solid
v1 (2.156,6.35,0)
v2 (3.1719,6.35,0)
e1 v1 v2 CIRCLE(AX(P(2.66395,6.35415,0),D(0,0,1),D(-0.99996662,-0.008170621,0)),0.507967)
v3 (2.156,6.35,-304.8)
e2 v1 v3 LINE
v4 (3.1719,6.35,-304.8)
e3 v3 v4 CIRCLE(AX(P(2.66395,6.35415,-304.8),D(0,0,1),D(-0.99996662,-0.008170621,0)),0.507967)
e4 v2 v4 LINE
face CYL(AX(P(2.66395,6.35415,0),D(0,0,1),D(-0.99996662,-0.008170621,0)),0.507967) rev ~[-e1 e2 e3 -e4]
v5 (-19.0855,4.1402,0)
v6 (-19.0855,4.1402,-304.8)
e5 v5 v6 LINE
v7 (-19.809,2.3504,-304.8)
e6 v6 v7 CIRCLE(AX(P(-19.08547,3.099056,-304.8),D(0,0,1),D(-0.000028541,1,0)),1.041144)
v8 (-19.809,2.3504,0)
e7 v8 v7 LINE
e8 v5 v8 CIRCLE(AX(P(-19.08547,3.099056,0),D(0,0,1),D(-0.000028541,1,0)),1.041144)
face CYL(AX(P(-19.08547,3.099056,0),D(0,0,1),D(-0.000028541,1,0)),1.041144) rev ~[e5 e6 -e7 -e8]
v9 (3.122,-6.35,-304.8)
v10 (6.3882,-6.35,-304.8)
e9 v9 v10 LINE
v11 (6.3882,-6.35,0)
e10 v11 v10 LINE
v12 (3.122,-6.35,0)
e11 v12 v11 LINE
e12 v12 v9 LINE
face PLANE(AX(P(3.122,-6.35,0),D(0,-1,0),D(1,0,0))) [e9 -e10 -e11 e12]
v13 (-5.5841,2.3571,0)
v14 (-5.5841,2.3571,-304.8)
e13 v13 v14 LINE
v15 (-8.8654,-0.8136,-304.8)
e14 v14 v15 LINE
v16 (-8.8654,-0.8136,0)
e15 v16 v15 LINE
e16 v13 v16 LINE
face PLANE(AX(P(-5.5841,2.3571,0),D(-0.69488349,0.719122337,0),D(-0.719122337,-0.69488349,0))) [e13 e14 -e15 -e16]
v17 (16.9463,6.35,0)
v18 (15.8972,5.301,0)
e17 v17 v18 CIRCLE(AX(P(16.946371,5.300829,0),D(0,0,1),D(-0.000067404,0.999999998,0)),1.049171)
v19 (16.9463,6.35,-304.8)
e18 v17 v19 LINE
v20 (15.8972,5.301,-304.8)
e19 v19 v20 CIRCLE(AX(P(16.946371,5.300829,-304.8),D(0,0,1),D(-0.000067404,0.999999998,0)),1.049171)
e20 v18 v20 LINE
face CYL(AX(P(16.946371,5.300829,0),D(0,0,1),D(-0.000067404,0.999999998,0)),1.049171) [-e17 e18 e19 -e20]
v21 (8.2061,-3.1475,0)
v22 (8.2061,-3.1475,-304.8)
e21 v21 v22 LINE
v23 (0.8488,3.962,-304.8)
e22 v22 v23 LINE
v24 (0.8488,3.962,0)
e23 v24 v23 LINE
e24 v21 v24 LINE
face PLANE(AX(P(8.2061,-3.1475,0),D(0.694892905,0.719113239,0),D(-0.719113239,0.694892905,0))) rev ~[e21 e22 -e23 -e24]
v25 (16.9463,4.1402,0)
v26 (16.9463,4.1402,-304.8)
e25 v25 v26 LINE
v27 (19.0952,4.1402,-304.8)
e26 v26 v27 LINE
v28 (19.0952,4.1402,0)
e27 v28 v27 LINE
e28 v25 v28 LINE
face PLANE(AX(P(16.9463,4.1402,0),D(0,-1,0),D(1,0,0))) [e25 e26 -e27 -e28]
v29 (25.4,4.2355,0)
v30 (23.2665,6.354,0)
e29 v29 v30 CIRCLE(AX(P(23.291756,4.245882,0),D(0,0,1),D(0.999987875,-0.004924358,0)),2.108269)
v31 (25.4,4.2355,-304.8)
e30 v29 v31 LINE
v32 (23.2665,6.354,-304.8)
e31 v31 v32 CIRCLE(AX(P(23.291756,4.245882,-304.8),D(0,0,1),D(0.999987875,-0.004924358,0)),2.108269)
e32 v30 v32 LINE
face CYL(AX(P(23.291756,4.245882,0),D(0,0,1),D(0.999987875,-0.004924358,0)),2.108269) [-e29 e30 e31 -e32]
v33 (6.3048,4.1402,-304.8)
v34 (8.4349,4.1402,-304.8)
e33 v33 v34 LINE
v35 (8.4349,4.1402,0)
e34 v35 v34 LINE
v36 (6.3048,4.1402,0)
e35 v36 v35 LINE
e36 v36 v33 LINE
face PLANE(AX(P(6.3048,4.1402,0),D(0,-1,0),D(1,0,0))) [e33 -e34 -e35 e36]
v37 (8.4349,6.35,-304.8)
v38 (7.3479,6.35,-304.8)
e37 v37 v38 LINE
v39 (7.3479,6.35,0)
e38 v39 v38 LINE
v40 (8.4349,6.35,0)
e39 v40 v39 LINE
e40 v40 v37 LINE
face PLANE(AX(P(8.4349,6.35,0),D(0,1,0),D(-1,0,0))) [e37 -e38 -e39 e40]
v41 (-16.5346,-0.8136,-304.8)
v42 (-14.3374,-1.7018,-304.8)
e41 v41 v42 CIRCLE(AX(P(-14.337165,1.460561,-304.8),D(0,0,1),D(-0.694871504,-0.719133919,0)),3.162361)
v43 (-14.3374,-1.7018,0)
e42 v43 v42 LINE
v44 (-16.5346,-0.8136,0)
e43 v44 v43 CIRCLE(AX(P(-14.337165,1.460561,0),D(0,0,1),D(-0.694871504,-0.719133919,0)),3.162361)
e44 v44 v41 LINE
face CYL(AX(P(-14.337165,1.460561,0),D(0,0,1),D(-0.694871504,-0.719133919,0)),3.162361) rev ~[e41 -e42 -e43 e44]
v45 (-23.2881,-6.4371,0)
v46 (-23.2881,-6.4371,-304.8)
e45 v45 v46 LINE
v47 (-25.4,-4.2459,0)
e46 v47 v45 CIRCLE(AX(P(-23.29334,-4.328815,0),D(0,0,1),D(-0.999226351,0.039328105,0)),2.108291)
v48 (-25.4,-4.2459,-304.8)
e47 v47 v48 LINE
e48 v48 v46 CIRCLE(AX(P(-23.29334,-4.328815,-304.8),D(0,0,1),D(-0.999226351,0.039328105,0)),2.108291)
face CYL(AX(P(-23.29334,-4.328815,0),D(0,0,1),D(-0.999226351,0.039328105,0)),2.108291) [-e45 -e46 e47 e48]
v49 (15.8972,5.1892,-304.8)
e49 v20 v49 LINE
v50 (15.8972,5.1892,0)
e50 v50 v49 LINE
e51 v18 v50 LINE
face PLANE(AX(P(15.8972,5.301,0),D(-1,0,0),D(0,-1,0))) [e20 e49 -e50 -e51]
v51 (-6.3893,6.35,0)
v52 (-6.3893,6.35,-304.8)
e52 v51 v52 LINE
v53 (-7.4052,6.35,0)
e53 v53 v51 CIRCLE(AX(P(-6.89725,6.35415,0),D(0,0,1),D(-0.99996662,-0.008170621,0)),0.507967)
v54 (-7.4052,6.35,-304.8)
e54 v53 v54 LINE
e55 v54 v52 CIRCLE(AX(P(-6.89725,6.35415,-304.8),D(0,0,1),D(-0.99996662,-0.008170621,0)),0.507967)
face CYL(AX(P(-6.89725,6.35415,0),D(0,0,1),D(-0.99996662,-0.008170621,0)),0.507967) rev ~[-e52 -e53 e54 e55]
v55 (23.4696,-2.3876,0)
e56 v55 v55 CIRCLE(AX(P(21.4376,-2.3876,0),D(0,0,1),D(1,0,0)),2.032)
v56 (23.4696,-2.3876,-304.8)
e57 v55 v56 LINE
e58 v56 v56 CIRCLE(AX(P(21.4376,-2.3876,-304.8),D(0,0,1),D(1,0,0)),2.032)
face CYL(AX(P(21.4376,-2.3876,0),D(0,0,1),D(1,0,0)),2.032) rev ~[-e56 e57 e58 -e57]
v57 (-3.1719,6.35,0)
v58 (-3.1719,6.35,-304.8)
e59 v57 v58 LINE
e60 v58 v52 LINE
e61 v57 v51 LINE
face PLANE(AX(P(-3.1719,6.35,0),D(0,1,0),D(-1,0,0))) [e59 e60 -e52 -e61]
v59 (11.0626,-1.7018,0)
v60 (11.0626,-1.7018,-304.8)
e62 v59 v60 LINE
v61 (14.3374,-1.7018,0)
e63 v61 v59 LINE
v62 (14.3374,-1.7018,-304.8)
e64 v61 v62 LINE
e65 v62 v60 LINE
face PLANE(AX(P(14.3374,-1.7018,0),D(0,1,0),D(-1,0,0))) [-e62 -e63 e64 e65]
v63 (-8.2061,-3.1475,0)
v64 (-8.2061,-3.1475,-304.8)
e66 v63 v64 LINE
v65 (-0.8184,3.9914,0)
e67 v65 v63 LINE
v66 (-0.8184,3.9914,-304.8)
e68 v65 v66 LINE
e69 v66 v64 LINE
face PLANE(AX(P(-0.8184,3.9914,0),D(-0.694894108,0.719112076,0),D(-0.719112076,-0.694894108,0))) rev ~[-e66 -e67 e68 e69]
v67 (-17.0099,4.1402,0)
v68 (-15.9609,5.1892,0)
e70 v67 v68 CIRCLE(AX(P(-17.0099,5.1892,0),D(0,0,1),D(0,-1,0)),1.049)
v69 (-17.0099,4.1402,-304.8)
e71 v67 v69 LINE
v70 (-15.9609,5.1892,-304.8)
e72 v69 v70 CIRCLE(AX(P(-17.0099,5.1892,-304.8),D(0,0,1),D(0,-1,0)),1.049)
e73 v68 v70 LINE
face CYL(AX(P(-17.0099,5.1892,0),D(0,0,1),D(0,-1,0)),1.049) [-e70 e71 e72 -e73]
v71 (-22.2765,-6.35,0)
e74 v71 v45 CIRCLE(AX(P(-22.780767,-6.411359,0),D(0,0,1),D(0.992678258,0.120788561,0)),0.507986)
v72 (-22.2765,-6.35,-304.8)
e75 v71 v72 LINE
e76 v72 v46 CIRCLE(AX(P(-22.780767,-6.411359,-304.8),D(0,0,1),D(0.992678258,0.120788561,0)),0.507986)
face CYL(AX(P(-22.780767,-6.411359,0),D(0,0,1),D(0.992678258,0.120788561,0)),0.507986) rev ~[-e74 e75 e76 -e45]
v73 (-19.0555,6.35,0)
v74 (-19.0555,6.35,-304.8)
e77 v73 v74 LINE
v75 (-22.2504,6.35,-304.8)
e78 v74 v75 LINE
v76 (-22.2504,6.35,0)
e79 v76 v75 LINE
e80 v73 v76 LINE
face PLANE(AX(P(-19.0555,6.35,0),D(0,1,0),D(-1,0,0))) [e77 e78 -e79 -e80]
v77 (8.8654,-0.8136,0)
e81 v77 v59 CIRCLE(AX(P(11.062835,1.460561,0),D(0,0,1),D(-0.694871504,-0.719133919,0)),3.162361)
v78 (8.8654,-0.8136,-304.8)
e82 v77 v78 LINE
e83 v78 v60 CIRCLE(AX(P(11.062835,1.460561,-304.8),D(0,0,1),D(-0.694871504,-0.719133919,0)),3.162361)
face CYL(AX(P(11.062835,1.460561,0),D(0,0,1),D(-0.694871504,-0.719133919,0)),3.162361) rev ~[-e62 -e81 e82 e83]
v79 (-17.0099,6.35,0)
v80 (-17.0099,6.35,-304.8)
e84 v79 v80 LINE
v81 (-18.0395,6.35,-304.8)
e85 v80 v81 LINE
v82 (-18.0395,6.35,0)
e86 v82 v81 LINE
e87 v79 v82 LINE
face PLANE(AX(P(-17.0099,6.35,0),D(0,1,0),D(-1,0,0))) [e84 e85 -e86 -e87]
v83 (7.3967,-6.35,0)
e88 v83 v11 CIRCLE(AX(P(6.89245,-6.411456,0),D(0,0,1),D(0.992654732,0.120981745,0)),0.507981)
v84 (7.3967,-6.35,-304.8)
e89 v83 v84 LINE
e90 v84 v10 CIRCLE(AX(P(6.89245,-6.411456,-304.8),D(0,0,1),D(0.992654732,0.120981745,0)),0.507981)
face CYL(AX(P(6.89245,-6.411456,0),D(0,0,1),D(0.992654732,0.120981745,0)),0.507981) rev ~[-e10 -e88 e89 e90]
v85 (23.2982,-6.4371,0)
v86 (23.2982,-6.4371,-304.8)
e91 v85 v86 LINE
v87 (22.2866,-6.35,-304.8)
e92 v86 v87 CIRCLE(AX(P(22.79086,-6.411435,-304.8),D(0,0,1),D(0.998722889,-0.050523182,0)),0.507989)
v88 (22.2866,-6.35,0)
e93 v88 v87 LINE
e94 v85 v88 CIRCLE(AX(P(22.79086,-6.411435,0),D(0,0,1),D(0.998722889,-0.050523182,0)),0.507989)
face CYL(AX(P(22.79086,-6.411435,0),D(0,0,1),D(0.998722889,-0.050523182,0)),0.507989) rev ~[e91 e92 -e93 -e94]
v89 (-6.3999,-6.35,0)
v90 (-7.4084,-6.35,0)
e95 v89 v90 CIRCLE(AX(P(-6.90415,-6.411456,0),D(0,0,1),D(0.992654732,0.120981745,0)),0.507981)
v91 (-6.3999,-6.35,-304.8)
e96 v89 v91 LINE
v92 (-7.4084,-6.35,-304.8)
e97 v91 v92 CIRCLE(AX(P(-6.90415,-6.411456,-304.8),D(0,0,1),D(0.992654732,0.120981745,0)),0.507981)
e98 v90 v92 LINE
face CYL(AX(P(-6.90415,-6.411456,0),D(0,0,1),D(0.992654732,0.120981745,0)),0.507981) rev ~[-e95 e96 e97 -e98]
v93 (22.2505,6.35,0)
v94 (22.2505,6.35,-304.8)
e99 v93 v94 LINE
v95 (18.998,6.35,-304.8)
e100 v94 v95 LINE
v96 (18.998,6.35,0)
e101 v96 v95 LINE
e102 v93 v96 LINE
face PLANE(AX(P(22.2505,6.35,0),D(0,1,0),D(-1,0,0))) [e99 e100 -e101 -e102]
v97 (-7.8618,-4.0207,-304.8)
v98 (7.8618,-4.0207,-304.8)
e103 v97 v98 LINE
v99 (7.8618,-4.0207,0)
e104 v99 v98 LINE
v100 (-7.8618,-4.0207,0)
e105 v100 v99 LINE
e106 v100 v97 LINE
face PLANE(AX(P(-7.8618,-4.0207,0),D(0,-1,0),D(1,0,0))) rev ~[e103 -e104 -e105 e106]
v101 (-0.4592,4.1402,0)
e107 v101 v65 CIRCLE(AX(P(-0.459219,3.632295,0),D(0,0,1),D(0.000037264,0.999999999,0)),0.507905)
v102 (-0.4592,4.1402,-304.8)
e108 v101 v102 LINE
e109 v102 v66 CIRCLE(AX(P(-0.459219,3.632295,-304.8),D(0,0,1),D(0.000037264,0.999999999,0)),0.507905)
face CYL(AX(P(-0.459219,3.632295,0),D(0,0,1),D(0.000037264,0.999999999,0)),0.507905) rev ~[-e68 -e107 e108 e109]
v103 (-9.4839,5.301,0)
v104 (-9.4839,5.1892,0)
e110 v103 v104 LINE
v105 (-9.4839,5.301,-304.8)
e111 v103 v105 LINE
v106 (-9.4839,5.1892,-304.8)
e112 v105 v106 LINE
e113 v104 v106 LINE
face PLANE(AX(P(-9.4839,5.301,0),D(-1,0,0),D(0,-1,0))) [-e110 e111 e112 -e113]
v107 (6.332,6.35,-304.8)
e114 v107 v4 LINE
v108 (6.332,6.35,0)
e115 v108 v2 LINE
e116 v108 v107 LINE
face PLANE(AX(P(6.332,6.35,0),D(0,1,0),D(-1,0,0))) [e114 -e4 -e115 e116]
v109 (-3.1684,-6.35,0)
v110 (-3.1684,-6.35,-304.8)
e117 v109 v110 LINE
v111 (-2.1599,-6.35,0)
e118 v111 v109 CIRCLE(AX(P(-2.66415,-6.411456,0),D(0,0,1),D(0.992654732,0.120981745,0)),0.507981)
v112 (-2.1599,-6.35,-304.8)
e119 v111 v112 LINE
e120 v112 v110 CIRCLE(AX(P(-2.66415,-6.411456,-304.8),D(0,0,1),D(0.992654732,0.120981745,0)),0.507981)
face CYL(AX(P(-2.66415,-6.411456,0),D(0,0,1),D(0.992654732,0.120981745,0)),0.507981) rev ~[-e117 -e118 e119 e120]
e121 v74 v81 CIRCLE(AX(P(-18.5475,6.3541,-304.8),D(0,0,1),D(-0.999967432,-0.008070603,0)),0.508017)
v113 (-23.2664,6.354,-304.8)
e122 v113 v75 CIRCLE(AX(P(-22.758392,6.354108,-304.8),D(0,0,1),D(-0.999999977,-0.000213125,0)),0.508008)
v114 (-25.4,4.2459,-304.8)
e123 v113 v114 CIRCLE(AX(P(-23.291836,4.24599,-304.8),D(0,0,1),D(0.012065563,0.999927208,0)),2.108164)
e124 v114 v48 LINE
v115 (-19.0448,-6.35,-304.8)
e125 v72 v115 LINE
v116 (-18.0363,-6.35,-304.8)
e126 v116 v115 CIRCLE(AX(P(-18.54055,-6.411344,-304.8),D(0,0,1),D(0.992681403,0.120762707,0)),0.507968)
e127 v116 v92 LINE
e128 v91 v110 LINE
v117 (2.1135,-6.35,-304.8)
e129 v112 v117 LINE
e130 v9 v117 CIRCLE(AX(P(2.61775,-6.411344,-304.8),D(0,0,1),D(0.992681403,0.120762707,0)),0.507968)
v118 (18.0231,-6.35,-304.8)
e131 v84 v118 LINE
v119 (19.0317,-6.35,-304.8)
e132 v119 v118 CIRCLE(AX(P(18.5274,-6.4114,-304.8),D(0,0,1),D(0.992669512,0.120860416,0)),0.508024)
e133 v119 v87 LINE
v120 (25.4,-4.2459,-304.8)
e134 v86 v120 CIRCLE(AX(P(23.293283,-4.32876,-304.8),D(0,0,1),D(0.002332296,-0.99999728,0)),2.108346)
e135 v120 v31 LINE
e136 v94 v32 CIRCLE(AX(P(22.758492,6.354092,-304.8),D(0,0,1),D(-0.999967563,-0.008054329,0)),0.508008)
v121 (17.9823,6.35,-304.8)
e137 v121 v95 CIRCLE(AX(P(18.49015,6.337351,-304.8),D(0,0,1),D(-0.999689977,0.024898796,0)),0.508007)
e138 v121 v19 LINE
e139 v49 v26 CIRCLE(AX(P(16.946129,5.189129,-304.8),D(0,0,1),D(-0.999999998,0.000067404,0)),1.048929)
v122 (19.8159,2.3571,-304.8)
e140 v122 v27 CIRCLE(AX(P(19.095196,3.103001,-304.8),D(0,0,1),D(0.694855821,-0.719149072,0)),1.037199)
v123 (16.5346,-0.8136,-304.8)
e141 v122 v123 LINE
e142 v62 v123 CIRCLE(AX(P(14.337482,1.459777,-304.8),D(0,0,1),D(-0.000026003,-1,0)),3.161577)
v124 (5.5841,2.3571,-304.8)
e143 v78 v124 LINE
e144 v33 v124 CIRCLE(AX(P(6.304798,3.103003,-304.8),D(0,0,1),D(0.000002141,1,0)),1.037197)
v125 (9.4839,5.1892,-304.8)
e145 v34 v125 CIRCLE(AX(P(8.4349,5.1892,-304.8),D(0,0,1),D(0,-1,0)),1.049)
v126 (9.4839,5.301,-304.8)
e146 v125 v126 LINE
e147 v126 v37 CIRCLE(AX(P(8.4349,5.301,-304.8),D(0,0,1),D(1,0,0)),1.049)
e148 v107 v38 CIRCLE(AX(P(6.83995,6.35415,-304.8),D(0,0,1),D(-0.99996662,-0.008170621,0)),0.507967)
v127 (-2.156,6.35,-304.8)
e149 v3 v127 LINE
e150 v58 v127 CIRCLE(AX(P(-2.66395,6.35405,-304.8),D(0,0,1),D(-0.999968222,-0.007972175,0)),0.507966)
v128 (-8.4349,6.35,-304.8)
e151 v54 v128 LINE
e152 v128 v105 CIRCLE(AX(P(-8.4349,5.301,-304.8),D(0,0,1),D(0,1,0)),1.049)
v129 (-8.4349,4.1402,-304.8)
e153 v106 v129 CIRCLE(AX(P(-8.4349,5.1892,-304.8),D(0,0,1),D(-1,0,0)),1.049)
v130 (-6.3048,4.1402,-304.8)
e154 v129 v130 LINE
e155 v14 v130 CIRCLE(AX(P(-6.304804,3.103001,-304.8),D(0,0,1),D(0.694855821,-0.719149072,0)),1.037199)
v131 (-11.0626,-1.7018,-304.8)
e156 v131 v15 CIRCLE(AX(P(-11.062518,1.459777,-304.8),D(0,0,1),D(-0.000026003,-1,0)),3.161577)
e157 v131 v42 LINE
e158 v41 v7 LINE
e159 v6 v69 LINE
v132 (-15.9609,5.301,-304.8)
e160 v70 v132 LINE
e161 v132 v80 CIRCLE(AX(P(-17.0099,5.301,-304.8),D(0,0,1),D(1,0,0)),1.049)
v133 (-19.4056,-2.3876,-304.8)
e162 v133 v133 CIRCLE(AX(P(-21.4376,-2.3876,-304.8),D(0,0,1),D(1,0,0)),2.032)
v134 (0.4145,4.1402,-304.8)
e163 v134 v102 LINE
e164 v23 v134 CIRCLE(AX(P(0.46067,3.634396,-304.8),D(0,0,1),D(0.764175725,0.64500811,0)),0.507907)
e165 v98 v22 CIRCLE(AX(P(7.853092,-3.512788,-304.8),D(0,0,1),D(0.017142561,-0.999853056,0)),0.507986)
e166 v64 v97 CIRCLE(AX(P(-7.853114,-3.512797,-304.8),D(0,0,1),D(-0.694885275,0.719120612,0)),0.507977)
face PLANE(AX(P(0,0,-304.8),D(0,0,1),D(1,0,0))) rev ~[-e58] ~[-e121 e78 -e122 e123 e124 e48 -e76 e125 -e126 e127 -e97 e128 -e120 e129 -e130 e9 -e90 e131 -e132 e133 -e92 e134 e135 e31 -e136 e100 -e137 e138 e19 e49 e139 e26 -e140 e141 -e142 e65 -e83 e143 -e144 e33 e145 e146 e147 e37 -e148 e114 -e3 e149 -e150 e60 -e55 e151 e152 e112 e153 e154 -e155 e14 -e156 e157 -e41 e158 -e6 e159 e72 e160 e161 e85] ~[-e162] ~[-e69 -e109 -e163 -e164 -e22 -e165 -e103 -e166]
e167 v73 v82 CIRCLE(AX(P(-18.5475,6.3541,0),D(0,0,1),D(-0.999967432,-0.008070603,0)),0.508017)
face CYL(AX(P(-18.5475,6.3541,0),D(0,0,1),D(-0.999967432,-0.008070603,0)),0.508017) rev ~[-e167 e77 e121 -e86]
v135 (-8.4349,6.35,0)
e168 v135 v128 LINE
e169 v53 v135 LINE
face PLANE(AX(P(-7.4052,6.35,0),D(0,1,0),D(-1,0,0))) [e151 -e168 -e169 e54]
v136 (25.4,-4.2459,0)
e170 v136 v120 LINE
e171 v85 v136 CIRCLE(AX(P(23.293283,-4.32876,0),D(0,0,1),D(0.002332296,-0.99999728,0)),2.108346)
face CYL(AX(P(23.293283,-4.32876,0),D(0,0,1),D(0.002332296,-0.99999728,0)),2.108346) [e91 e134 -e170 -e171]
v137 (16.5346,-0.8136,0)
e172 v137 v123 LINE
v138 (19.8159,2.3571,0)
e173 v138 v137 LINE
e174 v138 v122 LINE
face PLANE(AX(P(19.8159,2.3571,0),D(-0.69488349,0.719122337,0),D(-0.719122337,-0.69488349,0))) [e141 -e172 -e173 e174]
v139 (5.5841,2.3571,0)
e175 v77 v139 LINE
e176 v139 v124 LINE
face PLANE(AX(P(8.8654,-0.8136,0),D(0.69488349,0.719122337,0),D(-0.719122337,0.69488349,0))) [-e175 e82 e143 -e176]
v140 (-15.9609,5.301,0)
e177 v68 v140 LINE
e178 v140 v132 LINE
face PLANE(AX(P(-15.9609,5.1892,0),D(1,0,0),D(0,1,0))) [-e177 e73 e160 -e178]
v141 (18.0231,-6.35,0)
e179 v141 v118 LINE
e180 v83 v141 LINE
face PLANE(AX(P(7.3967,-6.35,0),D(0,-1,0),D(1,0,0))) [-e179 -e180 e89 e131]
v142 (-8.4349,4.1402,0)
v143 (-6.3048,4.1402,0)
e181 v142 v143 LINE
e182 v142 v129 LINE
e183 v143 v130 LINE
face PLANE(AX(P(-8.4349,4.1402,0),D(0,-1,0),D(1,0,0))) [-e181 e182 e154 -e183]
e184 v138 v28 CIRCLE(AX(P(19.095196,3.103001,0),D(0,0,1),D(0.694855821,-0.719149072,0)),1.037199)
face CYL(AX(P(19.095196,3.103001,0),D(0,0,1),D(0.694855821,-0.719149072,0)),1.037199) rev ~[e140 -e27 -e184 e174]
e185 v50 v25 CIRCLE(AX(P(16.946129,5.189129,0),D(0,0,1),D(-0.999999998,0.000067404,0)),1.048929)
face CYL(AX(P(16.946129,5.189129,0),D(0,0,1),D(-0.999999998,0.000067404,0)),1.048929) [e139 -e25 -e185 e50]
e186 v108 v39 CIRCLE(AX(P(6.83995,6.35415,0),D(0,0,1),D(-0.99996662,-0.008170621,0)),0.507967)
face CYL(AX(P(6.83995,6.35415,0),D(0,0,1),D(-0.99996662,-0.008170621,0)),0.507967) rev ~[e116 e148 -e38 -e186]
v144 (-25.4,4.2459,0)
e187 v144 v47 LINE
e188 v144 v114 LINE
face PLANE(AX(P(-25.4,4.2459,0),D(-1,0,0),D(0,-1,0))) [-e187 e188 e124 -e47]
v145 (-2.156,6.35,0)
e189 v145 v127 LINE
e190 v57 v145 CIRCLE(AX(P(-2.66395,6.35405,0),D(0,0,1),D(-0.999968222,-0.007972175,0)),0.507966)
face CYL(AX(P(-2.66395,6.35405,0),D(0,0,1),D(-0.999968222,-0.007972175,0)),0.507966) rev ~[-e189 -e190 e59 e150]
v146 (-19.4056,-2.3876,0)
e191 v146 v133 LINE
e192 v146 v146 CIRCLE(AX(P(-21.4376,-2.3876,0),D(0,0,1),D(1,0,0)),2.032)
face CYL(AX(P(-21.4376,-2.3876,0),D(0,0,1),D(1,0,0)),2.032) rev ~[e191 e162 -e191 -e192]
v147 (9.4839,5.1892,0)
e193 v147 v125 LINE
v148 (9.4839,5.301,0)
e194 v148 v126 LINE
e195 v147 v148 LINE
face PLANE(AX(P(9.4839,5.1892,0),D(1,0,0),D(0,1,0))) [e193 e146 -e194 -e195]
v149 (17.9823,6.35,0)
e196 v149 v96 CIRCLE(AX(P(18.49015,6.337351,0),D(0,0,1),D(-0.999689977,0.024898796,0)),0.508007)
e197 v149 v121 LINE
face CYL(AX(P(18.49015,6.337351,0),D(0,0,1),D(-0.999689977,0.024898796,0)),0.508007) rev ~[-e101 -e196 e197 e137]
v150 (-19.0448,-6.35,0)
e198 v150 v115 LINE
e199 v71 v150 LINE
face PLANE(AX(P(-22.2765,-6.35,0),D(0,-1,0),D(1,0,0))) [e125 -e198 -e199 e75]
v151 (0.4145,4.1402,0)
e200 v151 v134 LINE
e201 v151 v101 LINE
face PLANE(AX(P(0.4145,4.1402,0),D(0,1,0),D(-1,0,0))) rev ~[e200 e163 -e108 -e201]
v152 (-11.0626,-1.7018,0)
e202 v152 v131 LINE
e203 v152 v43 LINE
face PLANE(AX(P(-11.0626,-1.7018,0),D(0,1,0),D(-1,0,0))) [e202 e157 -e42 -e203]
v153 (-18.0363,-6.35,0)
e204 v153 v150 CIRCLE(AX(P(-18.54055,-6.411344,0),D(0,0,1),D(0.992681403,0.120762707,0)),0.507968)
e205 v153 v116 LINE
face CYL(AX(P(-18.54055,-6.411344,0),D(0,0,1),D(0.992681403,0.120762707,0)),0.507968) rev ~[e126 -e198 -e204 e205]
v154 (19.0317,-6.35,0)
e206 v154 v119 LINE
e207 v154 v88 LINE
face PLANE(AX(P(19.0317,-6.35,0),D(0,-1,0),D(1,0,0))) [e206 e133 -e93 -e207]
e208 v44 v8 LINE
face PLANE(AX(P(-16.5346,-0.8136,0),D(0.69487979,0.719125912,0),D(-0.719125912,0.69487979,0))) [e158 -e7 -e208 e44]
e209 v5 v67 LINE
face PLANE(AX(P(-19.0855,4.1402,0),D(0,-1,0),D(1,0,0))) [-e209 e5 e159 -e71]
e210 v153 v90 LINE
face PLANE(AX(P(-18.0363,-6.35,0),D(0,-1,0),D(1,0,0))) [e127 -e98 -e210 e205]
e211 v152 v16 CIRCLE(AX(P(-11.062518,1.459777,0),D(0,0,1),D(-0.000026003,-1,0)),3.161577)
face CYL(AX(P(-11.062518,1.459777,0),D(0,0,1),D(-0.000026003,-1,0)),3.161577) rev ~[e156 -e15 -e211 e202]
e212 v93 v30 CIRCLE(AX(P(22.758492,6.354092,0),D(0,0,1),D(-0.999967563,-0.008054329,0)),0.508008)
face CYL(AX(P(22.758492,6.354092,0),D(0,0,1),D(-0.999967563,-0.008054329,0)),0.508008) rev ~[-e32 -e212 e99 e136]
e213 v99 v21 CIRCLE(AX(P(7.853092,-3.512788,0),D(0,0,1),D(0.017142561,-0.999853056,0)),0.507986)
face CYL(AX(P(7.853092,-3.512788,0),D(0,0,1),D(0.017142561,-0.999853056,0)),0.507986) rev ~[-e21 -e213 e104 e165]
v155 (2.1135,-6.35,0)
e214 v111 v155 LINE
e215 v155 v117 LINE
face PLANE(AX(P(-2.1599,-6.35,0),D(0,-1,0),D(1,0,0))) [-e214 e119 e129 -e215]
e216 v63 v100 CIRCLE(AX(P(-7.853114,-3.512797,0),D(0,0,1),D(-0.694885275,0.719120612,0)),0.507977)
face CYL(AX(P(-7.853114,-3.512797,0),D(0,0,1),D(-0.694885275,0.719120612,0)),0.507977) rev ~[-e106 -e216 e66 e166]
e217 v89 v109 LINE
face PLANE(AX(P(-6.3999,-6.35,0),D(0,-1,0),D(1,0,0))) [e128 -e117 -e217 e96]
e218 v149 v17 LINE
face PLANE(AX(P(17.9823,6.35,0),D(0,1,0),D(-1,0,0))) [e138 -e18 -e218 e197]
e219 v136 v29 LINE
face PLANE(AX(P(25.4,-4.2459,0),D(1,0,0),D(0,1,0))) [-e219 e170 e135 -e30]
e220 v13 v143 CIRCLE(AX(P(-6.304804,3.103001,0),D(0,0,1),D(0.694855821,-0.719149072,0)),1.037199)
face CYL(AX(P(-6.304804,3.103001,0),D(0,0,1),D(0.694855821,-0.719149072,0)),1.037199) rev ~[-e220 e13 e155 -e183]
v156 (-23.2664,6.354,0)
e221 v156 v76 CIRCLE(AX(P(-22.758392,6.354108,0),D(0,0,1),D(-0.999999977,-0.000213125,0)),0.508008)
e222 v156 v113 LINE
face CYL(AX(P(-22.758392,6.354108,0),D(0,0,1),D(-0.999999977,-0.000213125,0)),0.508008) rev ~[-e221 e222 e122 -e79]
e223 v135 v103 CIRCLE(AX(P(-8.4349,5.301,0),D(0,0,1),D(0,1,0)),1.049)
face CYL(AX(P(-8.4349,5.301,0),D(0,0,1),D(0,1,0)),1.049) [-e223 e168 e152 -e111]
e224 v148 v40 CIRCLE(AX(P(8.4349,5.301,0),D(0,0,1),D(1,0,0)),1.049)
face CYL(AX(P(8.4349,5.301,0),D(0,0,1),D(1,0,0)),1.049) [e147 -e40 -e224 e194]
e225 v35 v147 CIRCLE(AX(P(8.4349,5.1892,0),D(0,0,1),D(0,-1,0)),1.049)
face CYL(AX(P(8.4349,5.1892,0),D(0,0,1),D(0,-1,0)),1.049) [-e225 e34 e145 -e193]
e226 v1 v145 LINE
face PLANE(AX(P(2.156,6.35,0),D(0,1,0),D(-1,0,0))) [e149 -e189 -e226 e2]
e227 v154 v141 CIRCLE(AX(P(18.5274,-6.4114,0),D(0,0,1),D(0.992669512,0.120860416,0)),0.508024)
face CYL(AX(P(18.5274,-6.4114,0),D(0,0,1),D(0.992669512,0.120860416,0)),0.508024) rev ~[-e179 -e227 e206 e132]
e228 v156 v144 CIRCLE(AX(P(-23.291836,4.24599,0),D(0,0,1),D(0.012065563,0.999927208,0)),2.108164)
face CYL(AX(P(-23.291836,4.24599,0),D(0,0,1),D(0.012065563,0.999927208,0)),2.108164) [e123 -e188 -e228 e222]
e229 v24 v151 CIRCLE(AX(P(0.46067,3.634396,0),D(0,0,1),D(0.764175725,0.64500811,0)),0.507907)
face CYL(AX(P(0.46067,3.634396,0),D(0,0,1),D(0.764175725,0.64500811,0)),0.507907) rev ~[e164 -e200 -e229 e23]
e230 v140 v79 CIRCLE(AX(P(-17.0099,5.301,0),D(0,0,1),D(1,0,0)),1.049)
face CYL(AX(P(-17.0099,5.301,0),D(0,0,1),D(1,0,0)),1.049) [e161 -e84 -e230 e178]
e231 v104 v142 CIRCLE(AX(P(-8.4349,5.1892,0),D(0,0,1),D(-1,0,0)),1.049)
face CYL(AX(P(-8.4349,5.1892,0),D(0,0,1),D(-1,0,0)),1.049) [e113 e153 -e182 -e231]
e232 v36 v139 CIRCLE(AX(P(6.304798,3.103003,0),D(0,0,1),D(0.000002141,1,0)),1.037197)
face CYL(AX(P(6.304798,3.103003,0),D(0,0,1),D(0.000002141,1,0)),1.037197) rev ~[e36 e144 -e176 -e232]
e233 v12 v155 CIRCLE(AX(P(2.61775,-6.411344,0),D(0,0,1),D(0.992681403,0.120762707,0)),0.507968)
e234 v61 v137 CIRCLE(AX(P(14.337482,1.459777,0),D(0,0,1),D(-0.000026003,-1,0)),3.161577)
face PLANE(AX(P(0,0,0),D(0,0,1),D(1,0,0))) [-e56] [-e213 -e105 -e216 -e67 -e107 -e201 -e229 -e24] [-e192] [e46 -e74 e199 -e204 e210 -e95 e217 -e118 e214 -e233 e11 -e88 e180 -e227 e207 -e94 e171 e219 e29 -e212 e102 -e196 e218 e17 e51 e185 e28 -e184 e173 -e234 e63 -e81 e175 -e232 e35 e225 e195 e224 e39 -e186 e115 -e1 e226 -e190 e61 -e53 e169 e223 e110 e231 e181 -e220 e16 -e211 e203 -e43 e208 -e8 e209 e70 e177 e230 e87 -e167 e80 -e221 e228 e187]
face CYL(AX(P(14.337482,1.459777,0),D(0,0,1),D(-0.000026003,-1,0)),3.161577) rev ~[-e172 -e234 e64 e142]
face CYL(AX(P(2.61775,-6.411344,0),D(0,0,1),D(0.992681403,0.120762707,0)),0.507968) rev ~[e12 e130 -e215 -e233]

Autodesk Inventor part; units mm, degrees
ref_plane "YZ Plane" through (0, 0, 0) normal (1, 0, 0) x (0, 1, 0)
ref_plane "XZ Plane" through (0, 0, 0) normal (0, 1, 0) x (-1, 0, 0)
ref_plane "XY Plane" through (0, 0, 0) normal (0, 0, 1) x (1, 0, 0)
sketch "Sketch1" plane through (0, 0, 0) normal (0, 0, 1) x (1, 0, 0)
  arc A0 (-8.2061, -3.1475) -> (-7.8618, -4.0207) centre (-7.8531, -3.5128) ccw
  line L0 (-0.8184, 3.9914) -> (-8.2061, -3.1475)
  arc A1 (-0.4592, 4.1402) -> (-0.8184, 3.9914) centre (-0.4592, 3.6322) ccw
  line L1 (0.4145, 4.1402) -> (-0.4592, 4.1402)
  arc A2 (0.8488, 3.962) -> (0.4145, 4.1402) centre (0.4606, 3.6343) ccw
  line L2 (8.2061, -3.1475) -> (0.8488, 3.962)
  arc A3 (7.8618, -4.0207) -> (8.2061, -3.1475) centre (7.8531, -3.5128) ccw
  line L3 (-7.8618, -4.0207) -> (7.8618, -4.0207)
  circle A4 centre (21.4376, -2.3876) radius 2.032
  circle A5 centre (-21.4376, -2.3876) radius 2.032
  arc A6 (16.9463, 6.35) -> (15.8972, 5.301) centre (16.9463, 5.301) ccw
  line L4 (15.8972, 5.301) -> (15.8972, 5.1892)
  arc A7 (15.8972, 5.1892) -> (16.9463, 4.1402) centre (16.9463, 5.1892) ccw
  line L5 (16.9463, 4.1402) -> (19.0952, 4.1402)
  arc A8 (19.8159, 2.3571) -> (19.0952, 4.1402) centre (19.0952, 3.103) ccw
  line L6 (19.8159, 2.3571) -> (16.5346, -0.8136)
  arc A9 (14.3374, -1.7018) -> (16.5346, -0.8136) centre (14.3374, 1.4602) ccw
  line L7 (14.3374, -1.7018) -> (11.0626, -1.7018)
  arc A10 (8.8654, -0.8136) -> (11.0626, -1.7018) centre (11.0626, 1.4602) ccw
  line L8 (8.8654, -0.8136) -> (5.5841, 2.3571)
  arc A11 (6.3048, 4.1402) -> (5.5841, 2.3571) centre (6.3048, 3.103) ccw
  line L9 (6.3048, 4.1402) -> (8.4349, 4.1402)
  arc A12 (8.4349, 4.1402) -> (9.4839, 5.1892) centre (8.4349, 5.1892) ccw
  line L10 (9.4839, 5.1892) -> (9.4839, 5.301)
  arc A13 (9.4839, 5.301) -> (8.4349, 6.35) centre (8.4349, 5.301) ccw
  line L11 (8.4349, 6.35) -> (7.3479, 6.35)
  arc A14 (6.332, 6.35) -> (7.3479, 6.35) centre (6.8399, 6.3541) ccw
  line L12 (6.332, 6.35) -> (3.1719, 6.35)
  arc A15 (2.156, 6.35) -> (3.1719, 6.35) centre (2.6639, 6.3541) ccw
  line L13 (2.156, 6.35) -> (-2.156, 6.35)
  arc A16 (-3.1719, 6.35) -> (-2.156, 6.35) centre (-2.6639, 6.3541) ccw
  line L14 (-3.1719, 6.35) -> (-6.3893, 6.35)
  arc A17 (-7.4052, 6.35) -> (-6.3893, 6.35) centre (-6.8973, 6.3541) ccw
  line L15 (-7.4052, 6.35) -> (-8.4349, 6.35)
  arc A18 (-8.4349, 6.35) -> (-9.4839, 5.301) centre (-8.4349, 5.301) ccw
  line L16 (-9.4839, 5.301) -> (-9.4839, 5.1892)
  arc A19 (-9.4839, 5.1892) -> (-8.4349, 4.1402) centre (-8.4349, 5.1892) ccw
  line L17 (-8.4349, 4.1402) -> (-6.3048, 4.1402)
  arc A20 (-5.5841, 2.3571) -> (-6.3048, 4.1402) centre (-6.3048, 3.103) ccw
  line L18 (-5.5841, 2.3571) -> (-8.8654, -0.8136)
  arc A21 (-11.0626, -1.7018) -> (-8.8654, -0.8136) centre (-11.0626, 1.4602) ccw
  line L19 (-11.0626, -1.7018) -> (-14.3374, -1.7018)
  arc A22 (-16.5346, -0.8136) -> (-14.3374, -1.7018) centre (-14.3374, 1.4602) ccw
  line L20 (-16.5346, -0.8136) -> (-19.809, 2.3504)
  arc A23 (-19.0855, 4.1402) -> (-19.809, 2.3504) centre (-19.0855, 3.0991) ccw
  line L21 (-19.0855, 4.1402) -> (-17.0099, 4.1402)
  arc A24 (-17.0099, 4.1402) -> (-15.9609, 5.1892) centre (-17.0099, 5.1892) ccw
  line L22 (-15.9609, 5.1892) -> (-15.9609, 5.301)
  arc A25 (-15.9609, 5.301) -> (-17.0099, 6.35) centre (-17.0099, 5.301) ccw
  line L23 (-17.0099, 6.35) -> (-18.0395, 6.35)
  arc A26 (-19.0555, 6.35) -> (-18.0395, 6.35) centre (-18.5475, 6.3541) ccw
  line L24 (-19.0555, 6.35) -> (-22.2504, 6.35)
  arc A27 (-23.2664, 6.354) -> (-22.2504, 6.35) centre (-22.7584, 6.3541) ccw
  arc A28 (-23.2664, 6.354) -> (-25.4, 4.2459) centre (-23.2918, 4.2459) ccw
  line L25 (-25.4, 4.2459) -> (-25.4, -4.2459)
  arc A29 (-25.4, -4.2459) -> (-23.2881, -6.4371) centre (-23.2933, -4.3288) ccw
  arc A30 (-22.2765, -6.35) -> (-23.2881, -6.4371) centre (-22.7808, -6.4114) ccw
  line L26 (-22.2765, -6.35) -> (-19.0448, -6.35)
  arc A31 (-18.0363, -6.35) -> (-19.0448, -6.35) centre (-18.5406, -6.4114) ccw
  line L27 (-18.0363, -6.35) -> (-7.4084, -6.35)
  arc A32 (-6.3999, -6.35) -> (-7.4084, -6.35) centre (-6.9041, -6.4114) ccw
  line L28 (-6.3999, -6.35) -> (-3.1684, -6.35)
  arc A33 (-2.1599, -6.35) -> (-3.1684, -6.35) centre (-2.6641, -6.4114) ccw
  line L29 (-2.1599, -6.35) -> (2.1135, -6.35)
  arc A34 (3.122, -6.35) -> (2.1135, -6.35) centre (2.6177, -6.4114) ccw
  line L30 (3.122, -6.35) -> (6.3882, -6.35)
  arc A35 (7.3967, -6.35) -> (6.3882, -6.35) centre (6.8925, -6.4114) ccw
  line L31 (7.3967, -6.35) -> (18.0231, -6.35)
  arc A36 (19.0317, -6.35) -> (18.0231, -6.35) centre (18.5274, -6.4114) ccw
  line L32 (19.0317, -6.35) -> (22.2866, -6.35)
  arc A37 (23.2982, -6.4371) -> (22.2866, -6.35) centre (22.7909, -6.4114) ccw
  arc A38 (23.2982, -6.4371) -> (25.4, -4.2459) centre (23.2933, -4.3288) ccw
  line L33 (25.4, -4.2459) -> (25.4, 4.2355)
  arc A39 (25.4, 4.2355) -> (23.2665, 6.354) centre (23.2918, 4.2459) ccw
  arc A40 (22.2505, 6.35) -> (23.2665, 6.354) centre (22.7585, 6.3541) ccw
  line L34 (22.2505, 6.35) -> (18.998, 6.35)
  arc A41 (17.9823, 6.35) -> (18.998, 6.35) centre (18.4902, 6.3374) ccw
  line L35 (17.9823, 6.35) -> (16.9463, 6.35)
  point P0 (0, 0)
extrude "Extrusion1" add sketch "Sketch1" against normal blind 304.8
properties part number "2012-BLACK-FB"
